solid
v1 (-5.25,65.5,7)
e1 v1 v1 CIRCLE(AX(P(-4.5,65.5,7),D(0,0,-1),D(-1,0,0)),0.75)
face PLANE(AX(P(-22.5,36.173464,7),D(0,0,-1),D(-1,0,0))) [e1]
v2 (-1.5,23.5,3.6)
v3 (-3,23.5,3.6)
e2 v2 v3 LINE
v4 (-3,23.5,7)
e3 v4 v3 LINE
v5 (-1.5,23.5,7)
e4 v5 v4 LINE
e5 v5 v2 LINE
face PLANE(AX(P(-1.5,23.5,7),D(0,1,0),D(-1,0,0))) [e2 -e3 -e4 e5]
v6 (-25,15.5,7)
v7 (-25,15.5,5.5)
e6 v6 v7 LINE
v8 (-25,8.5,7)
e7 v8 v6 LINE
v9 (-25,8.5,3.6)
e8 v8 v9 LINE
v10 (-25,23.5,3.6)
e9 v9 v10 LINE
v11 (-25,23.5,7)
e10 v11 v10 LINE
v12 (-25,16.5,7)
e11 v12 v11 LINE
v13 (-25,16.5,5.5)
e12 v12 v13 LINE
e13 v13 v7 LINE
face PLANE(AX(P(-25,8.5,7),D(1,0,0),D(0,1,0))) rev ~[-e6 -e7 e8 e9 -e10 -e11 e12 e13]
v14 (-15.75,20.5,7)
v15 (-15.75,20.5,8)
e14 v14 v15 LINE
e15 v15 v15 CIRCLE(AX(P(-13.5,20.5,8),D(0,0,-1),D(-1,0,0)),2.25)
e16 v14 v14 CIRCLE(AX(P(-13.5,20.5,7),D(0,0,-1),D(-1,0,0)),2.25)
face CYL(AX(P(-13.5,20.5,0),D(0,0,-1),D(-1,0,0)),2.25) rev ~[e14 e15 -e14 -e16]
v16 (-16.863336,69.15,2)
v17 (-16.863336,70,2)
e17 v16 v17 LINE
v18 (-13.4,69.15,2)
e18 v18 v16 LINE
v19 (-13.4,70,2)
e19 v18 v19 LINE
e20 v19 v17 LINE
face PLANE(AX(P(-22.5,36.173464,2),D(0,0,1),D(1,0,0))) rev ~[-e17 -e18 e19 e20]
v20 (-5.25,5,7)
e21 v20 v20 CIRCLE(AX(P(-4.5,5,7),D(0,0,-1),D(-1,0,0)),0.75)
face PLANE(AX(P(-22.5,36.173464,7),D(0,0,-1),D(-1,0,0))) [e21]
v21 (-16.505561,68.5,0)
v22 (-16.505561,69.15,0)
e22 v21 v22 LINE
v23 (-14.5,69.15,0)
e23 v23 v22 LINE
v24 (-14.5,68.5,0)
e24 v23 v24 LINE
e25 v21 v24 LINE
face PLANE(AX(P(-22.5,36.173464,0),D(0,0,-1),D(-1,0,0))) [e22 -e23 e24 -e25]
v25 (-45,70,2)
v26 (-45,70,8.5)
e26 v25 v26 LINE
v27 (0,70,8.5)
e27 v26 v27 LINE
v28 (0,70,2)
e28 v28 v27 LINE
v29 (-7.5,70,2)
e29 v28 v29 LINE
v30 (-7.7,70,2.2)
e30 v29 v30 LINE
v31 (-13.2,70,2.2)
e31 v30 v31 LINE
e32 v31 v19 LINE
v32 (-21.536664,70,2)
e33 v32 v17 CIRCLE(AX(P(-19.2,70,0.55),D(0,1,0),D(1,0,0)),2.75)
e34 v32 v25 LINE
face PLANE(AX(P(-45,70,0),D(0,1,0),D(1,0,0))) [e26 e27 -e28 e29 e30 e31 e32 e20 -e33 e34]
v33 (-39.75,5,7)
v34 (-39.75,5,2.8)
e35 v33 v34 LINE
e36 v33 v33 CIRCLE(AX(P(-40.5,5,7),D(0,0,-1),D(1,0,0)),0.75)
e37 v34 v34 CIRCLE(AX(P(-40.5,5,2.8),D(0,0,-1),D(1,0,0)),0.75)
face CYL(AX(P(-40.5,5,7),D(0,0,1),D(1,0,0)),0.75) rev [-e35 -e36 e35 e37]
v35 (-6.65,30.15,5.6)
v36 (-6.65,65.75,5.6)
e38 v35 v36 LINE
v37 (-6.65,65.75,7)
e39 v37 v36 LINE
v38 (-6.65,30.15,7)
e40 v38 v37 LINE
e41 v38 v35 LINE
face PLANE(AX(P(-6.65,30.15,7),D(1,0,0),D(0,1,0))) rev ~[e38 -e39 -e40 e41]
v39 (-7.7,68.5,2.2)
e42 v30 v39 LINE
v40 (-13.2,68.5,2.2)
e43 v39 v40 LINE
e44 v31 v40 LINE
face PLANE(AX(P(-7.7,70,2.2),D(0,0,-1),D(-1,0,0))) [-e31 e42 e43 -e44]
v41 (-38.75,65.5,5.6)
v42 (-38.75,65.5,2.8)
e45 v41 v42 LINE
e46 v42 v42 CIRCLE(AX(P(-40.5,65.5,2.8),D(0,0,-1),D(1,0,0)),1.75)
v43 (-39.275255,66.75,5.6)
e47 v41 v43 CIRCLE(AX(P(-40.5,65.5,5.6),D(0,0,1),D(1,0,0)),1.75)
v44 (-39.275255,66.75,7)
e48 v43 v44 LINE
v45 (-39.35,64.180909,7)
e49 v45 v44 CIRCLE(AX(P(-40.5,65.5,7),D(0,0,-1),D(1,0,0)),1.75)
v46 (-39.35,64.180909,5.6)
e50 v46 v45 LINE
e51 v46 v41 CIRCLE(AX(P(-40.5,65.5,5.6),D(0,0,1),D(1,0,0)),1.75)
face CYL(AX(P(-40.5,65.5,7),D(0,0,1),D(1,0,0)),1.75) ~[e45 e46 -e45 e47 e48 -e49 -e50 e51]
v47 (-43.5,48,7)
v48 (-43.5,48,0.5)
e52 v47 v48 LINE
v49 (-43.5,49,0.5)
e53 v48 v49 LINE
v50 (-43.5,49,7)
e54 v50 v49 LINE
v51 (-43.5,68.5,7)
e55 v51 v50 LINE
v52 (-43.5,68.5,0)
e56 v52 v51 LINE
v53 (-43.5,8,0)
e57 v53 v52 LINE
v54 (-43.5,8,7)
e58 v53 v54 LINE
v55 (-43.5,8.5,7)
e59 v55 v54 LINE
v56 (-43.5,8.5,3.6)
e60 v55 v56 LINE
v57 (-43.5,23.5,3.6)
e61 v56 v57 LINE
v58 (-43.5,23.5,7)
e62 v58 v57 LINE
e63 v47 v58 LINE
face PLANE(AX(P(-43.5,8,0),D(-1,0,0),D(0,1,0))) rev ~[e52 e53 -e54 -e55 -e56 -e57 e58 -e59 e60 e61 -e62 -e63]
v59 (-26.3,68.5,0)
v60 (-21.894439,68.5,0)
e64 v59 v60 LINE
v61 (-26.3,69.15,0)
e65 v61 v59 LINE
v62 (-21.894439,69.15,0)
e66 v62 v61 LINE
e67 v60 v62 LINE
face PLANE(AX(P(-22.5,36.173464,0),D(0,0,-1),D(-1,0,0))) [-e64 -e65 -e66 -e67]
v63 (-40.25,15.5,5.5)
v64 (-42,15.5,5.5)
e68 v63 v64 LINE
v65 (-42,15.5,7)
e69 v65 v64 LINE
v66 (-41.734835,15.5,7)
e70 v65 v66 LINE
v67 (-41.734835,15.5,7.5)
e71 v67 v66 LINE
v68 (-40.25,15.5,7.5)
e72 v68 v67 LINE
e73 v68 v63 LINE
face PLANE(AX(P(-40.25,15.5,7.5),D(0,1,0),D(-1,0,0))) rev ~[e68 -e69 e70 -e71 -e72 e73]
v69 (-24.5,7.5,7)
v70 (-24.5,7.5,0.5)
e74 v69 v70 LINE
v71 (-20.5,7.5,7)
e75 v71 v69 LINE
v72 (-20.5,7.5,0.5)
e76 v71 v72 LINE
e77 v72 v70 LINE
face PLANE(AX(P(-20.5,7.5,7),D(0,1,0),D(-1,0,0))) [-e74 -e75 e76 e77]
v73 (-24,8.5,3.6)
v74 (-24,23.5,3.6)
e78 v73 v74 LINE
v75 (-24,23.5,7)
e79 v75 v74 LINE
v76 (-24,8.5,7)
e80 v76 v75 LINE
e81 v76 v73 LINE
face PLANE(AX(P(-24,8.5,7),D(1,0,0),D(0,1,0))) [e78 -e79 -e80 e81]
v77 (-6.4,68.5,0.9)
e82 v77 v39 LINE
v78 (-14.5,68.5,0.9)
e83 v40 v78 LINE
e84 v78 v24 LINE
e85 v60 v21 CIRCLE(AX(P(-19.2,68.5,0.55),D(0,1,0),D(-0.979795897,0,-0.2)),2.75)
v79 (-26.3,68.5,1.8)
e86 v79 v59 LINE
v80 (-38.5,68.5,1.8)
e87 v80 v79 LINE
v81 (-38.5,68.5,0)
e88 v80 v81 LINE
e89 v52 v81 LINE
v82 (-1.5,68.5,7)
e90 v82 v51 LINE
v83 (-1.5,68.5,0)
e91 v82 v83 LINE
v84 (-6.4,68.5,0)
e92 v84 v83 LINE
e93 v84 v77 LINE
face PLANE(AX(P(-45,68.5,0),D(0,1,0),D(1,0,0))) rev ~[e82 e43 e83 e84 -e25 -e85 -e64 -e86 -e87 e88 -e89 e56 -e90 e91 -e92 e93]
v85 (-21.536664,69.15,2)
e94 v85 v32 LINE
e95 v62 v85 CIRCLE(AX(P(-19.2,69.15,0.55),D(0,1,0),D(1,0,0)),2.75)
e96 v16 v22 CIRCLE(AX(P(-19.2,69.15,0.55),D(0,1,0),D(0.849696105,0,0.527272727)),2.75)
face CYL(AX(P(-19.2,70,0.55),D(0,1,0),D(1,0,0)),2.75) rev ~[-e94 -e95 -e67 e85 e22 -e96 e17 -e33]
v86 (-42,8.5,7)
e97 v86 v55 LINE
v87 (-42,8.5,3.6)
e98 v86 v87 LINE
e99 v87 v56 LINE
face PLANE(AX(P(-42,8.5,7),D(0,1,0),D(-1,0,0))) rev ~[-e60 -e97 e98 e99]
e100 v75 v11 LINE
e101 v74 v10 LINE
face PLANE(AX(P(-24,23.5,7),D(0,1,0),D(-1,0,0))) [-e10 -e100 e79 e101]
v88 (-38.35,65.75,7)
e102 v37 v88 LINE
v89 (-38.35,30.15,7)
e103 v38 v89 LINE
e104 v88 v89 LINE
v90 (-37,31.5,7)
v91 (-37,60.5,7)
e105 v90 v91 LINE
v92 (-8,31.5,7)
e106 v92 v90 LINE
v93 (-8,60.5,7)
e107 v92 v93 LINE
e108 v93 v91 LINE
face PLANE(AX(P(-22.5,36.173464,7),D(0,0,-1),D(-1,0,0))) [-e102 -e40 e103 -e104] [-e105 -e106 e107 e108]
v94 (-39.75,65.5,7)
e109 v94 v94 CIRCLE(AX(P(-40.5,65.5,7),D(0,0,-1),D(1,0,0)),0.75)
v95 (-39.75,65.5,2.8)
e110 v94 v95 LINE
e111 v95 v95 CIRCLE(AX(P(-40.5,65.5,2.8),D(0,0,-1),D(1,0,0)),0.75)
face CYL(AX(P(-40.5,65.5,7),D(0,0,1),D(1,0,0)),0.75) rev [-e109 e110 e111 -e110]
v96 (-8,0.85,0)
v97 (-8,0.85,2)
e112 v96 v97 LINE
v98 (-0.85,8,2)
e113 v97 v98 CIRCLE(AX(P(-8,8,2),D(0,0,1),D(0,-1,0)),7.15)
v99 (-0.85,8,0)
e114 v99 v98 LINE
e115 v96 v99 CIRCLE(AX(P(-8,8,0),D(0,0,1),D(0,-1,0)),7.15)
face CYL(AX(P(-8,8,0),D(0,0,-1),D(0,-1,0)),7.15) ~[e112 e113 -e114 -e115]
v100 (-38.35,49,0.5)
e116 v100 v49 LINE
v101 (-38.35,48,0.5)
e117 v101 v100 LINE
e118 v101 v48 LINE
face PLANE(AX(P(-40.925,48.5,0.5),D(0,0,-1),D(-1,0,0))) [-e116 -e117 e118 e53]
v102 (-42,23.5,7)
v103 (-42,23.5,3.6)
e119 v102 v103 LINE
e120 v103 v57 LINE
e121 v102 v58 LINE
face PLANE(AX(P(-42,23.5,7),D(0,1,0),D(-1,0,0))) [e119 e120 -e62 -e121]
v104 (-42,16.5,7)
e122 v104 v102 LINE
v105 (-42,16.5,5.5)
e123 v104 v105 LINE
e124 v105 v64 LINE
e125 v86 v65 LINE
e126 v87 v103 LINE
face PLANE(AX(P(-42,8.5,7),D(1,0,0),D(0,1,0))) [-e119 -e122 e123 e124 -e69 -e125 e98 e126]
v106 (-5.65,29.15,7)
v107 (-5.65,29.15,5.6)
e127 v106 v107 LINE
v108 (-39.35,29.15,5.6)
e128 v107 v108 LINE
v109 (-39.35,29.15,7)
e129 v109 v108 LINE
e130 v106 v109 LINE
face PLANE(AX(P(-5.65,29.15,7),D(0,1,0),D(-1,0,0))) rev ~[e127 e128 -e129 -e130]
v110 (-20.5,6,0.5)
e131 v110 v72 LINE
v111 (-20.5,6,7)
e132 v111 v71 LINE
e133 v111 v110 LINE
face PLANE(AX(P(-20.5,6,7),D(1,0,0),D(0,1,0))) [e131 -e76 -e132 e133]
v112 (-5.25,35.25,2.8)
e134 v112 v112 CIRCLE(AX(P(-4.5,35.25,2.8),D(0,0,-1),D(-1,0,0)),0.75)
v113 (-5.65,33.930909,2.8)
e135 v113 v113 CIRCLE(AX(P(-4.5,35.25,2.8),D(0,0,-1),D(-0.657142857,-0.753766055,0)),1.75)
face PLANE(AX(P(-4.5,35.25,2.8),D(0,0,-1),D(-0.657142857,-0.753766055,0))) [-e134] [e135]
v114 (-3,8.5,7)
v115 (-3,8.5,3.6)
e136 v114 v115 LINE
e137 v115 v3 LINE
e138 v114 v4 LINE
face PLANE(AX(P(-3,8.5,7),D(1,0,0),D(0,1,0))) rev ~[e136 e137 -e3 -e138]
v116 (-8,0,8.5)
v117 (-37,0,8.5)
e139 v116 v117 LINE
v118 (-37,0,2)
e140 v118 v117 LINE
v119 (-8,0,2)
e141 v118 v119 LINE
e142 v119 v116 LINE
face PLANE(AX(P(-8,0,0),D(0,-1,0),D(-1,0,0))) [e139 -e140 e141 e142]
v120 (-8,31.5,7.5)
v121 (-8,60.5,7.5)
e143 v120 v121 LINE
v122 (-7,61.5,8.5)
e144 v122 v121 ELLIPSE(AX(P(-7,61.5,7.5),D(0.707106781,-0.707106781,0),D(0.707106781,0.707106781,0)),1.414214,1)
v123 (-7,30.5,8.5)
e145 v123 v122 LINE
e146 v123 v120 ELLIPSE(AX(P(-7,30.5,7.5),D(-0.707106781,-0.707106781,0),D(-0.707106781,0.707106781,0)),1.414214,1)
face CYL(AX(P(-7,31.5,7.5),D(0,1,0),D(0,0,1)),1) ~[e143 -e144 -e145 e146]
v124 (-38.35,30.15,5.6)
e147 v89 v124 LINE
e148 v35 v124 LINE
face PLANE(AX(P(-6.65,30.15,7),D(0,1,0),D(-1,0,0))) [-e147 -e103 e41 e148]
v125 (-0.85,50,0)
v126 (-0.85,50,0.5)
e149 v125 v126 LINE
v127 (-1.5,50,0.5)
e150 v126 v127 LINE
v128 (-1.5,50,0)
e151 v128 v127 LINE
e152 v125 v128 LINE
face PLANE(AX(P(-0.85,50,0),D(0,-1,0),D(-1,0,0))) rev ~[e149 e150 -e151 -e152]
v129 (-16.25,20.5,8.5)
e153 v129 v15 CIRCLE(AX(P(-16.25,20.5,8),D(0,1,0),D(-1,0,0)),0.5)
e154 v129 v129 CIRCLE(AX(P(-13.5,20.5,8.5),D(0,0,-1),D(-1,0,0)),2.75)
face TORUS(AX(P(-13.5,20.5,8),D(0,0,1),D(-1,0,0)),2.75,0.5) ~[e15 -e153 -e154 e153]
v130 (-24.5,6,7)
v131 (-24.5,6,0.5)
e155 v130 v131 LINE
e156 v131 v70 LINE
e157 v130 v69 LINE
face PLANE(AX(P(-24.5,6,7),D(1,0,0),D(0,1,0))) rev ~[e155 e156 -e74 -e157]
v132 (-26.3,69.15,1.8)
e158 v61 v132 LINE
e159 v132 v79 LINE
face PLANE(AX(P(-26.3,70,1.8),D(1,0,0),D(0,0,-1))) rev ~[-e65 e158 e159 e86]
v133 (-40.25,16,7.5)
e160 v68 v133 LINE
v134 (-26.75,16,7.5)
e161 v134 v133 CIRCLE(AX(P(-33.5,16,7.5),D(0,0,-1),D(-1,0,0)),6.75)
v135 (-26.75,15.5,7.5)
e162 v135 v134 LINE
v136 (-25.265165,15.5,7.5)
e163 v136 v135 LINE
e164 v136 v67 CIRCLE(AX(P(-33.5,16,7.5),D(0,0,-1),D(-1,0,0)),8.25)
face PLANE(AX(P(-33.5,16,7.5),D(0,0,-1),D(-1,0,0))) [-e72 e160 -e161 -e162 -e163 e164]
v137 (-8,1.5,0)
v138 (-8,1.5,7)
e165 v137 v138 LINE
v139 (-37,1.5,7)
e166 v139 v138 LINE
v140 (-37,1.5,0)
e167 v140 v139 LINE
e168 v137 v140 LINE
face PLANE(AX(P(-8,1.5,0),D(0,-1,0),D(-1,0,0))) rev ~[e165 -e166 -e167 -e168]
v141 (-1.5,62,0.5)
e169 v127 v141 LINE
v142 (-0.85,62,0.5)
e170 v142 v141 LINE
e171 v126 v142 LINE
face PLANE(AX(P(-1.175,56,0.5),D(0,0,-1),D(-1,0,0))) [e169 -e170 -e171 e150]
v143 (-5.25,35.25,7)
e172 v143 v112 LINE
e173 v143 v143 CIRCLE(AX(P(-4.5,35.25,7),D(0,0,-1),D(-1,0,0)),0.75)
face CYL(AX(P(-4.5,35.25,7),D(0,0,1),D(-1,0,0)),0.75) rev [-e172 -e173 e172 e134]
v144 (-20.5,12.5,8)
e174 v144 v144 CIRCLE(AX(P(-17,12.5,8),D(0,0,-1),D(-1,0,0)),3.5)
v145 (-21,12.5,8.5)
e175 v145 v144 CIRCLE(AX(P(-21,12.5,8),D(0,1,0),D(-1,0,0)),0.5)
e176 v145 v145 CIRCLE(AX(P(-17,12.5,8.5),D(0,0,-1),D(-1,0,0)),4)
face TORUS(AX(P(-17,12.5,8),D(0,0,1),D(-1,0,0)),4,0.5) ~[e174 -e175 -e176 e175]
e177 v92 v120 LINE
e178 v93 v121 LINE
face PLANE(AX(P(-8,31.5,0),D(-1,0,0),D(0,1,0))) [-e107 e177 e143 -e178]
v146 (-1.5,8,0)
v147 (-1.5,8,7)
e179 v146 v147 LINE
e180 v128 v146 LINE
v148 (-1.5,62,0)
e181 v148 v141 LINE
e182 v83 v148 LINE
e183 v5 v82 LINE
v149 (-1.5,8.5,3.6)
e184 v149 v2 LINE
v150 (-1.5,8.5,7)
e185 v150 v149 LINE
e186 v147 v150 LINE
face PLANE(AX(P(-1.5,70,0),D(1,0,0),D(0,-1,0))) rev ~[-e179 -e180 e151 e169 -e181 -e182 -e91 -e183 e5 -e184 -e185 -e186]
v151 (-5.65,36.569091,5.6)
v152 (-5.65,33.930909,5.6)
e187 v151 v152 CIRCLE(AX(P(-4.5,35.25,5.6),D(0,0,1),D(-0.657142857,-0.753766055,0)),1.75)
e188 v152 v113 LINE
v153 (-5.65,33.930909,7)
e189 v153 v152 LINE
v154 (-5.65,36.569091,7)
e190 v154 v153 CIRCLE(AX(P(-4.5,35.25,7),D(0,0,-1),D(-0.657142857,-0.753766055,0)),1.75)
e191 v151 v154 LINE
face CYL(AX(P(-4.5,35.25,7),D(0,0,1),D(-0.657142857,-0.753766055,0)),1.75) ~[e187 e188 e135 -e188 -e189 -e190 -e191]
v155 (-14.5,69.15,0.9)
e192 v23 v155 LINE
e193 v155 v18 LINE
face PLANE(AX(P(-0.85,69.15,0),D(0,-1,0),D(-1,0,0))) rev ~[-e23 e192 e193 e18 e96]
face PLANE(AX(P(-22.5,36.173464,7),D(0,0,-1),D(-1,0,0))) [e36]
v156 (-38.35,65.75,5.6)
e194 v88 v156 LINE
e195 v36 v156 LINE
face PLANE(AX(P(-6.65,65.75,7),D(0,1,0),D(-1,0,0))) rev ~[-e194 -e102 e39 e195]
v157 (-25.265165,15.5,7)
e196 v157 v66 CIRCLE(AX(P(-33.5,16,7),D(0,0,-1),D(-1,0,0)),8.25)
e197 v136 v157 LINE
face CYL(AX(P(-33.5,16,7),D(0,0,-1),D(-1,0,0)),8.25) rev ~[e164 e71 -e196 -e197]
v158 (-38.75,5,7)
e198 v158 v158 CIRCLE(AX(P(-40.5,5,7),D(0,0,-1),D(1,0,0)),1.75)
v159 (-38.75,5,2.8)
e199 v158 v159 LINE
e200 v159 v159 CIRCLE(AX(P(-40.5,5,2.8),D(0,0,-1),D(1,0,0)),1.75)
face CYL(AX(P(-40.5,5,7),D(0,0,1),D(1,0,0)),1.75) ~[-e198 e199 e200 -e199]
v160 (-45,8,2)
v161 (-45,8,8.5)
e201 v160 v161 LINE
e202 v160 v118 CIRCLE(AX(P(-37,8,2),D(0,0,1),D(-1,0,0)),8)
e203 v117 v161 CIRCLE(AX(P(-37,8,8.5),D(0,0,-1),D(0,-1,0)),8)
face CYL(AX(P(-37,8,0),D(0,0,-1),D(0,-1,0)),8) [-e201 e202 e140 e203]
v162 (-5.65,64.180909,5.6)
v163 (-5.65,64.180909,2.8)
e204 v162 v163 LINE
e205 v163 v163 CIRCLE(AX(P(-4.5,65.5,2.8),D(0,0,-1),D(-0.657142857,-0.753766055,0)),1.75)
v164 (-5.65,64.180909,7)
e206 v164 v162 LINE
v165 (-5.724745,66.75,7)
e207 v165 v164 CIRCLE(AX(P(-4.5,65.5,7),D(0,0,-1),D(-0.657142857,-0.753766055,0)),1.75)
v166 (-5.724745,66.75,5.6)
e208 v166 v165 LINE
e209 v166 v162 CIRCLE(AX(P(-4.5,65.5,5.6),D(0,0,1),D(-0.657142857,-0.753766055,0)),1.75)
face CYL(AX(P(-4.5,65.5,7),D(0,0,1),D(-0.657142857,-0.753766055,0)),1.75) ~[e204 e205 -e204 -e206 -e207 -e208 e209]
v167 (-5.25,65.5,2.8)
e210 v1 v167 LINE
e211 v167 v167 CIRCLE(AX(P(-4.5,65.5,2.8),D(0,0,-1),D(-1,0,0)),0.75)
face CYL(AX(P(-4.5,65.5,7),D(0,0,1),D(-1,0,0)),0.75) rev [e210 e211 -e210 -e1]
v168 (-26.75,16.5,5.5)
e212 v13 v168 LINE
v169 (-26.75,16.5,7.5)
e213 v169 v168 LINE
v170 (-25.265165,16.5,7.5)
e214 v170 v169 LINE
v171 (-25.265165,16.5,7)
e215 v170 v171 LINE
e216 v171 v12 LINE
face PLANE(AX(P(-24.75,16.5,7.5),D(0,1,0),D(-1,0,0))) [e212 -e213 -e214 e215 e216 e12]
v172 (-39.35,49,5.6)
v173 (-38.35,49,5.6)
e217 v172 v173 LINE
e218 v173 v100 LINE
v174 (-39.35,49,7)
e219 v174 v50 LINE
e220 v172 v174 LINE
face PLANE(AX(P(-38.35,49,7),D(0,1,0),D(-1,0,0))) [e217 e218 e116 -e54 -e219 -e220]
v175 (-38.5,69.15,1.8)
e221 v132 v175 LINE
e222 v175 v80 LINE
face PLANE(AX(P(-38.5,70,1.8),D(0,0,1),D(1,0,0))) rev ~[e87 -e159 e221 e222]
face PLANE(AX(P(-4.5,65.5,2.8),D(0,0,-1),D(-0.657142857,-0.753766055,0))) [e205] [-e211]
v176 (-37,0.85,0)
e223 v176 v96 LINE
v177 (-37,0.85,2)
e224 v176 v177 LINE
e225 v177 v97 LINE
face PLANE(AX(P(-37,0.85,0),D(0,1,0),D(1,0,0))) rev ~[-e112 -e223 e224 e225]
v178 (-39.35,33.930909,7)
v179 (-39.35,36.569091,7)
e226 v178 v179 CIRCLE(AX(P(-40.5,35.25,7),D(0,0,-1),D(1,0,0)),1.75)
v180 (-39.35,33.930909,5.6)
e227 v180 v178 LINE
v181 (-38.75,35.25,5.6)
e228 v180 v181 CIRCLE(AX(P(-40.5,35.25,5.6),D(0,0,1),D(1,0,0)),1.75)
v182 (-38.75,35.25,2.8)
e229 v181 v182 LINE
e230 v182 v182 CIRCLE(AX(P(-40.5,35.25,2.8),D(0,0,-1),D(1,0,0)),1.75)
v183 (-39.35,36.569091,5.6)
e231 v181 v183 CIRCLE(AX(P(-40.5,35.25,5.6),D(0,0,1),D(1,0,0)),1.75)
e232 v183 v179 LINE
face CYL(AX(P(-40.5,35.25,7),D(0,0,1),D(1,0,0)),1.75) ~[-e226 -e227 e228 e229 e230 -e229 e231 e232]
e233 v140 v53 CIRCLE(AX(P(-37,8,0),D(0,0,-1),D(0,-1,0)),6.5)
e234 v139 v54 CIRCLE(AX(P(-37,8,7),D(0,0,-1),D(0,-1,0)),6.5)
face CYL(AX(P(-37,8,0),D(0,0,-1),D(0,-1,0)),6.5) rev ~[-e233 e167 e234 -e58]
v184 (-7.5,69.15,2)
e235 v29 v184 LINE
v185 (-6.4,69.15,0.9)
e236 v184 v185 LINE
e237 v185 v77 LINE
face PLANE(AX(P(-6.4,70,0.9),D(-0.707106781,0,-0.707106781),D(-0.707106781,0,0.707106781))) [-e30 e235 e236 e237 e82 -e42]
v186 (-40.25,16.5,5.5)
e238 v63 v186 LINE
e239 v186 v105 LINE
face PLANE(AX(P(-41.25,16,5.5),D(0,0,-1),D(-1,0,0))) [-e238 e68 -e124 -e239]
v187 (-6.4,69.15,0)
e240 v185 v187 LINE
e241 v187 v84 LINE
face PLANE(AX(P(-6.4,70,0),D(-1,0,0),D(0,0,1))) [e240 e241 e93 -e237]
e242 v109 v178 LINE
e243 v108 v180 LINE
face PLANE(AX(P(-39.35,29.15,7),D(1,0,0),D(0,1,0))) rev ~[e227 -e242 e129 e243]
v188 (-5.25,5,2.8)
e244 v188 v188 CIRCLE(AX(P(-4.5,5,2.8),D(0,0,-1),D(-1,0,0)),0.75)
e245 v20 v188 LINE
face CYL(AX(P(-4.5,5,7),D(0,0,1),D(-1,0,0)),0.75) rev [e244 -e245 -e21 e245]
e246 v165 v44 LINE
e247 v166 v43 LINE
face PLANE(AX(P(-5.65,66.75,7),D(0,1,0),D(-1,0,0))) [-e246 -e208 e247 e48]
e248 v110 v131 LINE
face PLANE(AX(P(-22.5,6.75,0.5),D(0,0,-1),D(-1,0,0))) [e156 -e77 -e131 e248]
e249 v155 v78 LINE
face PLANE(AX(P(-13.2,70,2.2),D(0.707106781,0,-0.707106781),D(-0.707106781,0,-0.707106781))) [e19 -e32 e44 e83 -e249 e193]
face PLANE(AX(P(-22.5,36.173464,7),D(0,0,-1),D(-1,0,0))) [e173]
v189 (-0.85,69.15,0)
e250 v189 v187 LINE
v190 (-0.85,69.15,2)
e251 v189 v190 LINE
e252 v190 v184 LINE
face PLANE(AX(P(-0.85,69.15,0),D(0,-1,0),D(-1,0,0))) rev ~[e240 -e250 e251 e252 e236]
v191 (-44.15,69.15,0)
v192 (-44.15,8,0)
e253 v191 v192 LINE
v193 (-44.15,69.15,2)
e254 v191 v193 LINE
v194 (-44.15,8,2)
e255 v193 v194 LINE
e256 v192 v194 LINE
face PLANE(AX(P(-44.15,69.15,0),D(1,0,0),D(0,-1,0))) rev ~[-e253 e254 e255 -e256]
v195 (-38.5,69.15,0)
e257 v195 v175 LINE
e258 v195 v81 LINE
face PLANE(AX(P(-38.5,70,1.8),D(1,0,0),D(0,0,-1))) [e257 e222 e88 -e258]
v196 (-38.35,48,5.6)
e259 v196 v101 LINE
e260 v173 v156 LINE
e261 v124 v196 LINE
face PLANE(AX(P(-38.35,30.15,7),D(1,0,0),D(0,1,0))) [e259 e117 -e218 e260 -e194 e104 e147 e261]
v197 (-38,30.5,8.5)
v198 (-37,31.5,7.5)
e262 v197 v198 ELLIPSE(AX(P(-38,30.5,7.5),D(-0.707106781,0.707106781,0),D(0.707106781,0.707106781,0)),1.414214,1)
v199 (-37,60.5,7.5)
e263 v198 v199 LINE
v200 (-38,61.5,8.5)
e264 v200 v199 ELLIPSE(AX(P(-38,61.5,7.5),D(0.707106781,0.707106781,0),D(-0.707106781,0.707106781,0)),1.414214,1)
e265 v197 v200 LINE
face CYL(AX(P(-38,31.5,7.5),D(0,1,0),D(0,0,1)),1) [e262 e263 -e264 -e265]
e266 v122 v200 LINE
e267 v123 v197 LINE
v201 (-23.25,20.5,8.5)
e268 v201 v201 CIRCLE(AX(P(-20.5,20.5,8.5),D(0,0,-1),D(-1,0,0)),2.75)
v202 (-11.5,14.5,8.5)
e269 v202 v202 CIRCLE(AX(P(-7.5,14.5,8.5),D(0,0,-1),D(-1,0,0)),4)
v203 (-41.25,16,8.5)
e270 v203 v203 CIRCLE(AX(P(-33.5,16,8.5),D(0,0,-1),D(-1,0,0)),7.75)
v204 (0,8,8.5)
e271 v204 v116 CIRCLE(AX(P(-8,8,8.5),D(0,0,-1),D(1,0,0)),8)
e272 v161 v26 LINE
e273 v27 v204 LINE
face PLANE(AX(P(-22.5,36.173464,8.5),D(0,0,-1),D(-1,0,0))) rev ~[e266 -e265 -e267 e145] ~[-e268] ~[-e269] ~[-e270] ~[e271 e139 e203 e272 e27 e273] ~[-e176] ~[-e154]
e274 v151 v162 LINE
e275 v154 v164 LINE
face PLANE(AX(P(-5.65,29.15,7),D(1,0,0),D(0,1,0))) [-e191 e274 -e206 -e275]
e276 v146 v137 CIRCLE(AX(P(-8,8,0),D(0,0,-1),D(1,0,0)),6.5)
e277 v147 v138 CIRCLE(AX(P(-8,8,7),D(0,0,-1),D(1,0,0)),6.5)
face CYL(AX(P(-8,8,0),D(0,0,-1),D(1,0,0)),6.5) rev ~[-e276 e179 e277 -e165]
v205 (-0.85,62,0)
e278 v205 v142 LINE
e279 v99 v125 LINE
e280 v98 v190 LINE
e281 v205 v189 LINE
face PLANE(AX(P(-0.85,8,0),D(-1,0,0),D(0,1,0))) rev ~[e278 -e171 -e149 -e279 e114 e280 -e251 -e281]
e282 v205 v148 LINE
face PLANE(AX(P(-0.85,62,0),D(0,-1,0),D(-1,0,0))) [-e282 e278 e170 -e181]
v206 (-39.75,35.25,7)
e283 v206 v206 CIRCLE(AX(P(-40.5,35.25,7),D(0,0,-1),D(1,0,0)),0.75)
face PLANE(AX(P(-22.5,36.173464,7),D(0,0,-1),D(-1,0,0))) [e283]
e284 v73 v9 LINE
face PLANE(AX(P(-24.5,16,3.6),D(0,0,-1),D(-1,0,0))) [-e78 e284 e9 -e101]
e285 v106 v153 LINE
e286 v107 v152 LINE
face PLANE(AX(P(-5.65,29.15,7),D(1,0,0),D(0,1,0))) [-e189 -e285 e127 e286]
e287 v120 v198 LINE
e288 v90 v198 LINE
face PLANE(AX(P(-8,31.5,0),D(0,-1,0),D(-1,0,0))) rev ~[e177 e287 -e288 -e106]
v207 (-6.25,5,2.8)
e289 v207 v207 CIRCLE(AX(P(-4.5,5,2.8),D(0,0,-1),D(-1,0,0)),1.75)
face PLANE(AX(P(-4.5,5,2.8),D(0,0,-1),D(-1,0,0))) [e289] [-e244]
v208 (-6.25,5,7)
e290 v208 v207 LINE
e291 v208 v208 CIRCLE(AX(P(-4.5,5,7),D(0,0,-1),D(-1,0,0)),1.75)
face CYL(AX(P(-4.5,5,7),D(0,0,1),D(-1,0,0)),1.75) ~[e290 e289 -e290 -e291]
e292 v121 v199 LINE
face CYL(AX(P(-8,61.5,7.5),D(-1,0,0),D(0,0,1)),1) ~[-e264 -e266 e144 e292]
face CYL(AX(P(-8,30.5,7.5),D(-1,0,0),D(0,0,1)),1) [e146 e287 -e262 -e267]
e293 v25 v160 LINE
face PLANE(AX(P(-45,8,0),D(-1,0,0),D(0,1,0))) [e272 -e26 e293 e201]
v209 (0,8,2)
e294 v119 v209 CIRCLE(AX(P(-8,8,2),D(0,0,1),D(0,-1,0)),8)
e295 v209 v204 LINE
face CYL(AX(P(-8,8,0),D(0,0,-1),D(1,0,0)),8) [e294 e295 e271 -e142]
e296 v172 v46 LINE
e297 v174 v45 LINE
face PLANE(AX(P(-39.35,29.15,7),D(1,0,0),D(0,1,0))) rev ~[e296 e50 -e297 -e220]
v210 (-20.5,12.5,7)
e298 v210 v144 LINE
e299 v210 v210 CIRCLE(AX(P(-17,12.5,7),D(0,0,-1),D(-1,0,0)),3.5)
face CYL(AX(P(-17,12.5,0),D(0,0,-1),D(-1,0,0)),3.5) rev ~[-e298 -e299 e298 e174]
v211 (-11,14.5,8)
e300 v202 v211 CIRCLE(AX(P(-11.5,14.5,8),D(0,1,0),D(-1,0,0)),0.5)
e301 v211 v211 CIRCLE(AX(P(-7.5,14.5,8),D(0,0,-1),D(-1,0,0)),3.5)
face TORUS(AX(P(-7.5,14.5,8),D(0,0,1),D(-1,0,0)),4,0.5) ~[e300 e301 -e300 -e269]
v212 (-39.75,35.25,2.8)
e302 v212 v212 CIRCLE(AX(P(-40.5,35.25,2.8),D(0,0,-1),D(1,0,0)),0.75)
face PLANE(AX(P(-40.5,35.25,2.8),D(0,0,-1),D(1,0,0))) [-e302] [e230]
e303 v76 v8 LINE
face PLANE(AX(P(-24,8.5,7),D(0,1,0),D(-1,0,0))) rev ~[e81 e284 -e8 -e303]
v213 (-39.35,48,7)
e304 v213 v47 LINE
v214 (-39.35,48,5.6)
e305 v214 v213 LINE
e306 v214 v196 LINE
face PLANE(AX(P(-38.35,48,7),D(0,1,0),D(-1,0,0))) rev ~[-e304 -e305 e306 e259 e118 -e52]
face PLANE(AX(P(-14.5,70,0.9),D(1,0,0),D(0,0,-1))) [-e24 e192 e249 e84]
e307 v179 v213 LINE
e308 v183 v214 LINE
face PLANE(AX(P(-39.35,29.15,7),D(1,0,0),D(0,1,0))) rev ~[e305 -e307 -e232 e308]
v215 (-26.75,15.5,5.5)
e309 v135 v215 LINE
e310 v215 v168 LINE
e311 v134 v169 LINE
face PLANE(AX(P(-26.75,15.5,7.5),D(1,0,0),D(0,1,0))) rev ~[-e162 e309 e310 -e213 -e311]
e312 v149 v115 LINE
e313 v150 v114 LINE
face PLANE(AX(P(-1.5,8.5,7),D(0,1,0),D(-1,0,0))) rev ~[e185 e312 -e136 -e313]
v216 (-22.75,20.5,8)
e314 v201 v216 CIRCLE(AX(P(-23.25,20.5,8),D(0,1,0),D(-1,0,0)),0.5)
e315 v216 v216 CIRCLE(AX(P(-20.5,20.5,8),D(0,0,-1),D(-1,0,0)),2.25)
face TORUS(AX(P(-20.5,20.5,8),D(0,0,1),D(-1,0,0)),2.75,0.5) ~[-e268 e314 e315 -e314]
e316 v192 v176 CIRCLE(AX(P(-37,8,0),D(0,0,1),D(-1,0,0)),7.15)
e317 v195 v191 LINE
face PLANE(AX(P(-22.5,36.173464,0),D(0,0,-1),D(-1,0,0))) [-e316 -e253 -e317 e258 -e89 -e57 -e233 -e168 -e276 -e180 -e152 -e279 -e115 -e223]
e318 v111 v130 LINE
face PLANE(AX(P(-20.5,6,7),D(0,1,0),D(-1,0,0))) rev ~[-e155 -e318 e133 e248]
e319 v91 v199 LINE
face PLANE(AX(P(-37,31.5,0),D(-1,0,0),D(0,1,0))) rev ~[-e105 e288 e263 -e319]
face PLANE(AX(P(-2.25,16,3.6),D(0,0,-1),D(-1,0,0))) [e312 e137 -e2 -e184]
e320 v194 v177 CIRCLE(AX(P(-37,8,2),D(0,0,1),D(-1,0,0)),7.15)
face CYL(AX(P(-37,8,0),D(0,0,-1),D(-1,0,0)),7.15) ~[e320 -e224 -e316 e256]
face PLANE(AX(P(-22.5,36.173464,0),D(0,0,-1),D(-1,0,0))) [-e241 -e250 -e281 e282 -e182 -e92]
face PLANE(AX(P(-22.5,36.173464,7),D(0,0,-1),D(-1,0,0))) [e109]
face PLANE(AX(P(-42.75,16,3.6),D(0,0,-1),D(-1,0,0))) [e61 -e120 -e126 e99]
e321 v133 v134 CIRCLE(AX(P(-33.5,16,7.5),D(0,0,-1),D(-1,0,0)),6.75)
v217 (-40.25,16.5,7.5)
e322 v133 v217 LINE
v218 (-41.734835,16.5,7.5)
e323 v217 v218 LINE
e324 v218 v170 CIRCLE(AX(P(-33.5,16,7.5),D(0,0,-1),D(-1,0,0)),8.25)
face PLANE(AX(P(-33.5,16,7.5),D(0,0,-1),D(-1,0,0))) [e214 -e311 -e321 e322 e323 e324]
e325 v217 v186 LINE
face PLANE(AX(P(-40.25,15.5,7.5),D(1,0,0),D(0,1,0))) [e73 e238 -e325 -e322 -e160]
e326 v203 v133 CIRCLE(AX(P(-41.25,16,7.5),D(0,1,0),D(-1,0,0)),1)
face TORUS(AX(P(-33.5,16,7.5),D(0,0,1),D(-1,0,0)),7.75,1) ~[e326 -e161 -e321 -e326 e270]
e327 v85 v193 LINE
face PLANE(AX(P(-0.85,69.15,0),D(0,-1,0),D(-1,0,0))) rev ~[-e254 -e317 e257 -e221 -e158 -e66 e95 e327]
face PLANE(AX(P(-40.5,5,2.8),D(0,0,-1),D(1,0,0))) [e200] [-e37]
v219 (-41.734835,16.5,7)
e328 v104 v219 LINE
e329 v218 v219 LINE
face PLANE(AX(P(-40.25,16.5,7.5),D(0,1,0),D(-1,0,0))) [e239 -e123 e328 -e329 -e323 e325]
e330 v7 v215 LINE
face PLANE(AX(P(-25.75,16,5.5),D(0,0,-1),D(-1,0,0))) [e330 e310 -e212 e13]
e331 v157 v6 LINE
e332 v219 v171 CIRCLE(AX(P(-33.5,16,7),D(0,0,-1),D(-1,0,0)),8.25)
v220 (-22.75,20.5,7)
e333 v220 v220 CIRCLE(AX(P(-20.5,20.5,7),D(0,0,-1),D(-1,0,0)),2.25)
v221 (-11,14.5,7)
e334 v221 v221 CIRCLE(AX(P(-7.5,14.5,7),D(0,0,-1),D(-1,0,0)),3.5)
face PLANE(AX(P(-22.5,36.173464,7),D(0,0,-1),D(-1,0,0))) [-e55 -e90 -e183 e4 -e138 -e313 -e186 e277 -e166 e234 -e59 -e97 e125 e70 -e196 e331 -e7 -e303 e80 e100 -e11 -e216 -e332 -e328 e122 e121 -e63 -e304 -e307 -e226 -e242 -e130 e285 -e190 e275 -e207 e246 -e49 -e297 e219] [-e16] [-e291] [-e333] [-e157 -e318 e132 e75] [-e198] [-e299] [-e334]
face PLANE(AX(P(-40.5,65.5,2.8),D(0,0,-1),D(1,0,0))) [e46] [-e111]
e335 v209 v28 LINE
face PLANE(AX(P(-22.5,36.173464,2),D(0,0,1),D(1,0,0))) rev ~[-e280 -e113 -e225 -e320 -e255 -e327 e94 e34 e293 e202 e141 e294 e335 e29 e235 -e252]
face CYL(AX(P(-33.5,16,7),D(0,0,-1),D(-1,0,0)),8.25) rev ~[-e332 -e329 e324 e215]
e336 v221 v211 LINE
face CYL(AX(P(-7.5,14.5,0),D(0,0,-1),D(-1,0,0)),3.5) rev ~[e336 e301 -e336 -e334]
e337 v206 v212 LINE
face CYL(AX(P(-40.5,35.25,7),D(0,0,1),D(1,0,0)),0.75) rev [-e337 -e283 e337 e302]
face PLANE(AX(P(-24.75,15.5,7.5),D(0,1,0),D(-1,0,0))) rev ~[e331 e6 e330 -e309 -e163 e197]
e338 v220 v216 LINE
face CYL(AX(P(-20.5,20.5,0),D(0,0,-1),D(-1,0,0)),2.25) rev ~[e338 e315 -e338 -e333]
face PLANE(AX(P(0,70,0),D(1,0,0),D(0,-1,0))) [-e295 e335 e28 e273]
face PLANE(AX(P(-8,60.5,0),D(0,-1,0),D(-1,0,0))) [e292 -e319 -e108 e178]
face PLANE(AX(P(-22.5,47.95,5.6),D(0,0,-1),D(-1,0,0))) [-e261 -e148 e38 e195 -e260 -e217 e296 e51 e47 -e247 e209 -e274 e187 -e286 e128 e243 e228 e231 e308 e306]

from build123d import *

# Parameters (mm, degrees)
EXTRUDE_1_DEPTH     = 8.5
SHELL_2_T           = -1.5
SKETCH_4_R          = 6.75
SKETCH_4_R_2        = 3.5
SKETCH_4_R_3        = 2.25
SKETCH_4_W          = 29
SKETCH_4_H          = 29
CUT_EXTRUDE_3_DEPTH = 84.649566646
FILLET_1_R          = 1
FILLET_2_R          = 1
FILLET_3_R          = 0.5
SKETCH_5_W          = 33.7
SKETCH_5_H          = 37.6
SKETCH_5_W_2        = 31.7
SKETCH_5_H_2        = 35.6
EXTRUDE_2_DEPTH     = 1.4
SKETCH_6_R          = 1.75
SKETCH_6_R_2        = 0.75
EXTRUDE_3_DEPTH     = 4.2
CUT_EXTRUDE_4_DEPTH = 2
SKETCH_8_W          = 0.65
SKETCH_8_H          = 12
CUT_EXTRUDE_5_DEPTH = 0.5
SKETCH_9_W          = 5.15
SKETCH_9_H          = 1
SKETCH_9_W_2        = 4
SKETCH_9_H_2        = 1.5
EXTRUDE_4_DEPTH     = 6.5
SKETCH_10_R         = 2.75
SKETCH_10_W         = 12.2
SKETCH_10_H         = 1.8
CUT_EXTRUDE_6_DEPTH = 1.5
SKETCH1_R           = 8.25
CUT_EXTRUDE1_DEPTH  = 0.5
SKETCH2_W           = 2
SKETCH2_H           = 1
BOSS_EXTRUDE1_DEPTH = 2
SKETCH_12_W         = 1
SKETCH_12_H         = 15
SKETCH_12_W_2       = 1.5
EXTRUDE_5_DEPTH     = 3.4


with BuildPart() as part:
    # 草图1 → 凸台-拉伸1 (new body)
    with BuildSketch(Plane.XY):
        with BuildLine():
            Line((-45, 70), (0, 70))
            Line((0, 70), (0, 8))
            ThreePointArc((0, 8), (-2.343145751, 2.343145751), (-8, 0))
            Line((-8, 0), (-37, 0))
            ThreePointArc((-37, 0), (-42.656854249, 2.343145751), (-45, 8))
            Line((-45, 8), (-45, 70))
        make_face()
    extrude(amount=EXTRUDE_1_DEPTH)

    # 抽壳2
    shell_2_openings = [part.faces().sort_by_distance(p)[0] for p in [
        (-22.5, 35.292176643, 0),
    ]]
    offset(amount=SHELL_2_T, openings=shell_2_openings, kind=Kind.INTERSECTION)

    # 草图4 → 切除-拉伸3 (cut, through all)
    with BuildSketch(Plane(origin=(0, 0, 0), x_dir=(-1, 0, 0), z_dir=(0, 0, -1))):
        with Locations((33.5, 16)):
            Circle(SKETCH_4_R)
        with Locations((7.5, 14.5)):
            Circle(SKETCH_4_R_2)
        with Locations((17, 12.5)):
            Circle(SKETCH_4_R_2)
        with Locations((13.5, 20.5)):
            Circle(SKETCH_4_R_3)
        with Locations((20.5, 20.5)):
            Circle(SKETCH_4_R_3)
        with Locations((22.5, 46)):
            Rectangle(SKETCH_4_W, SKETCH_4_H)
    extrude(amount=-CUT_EXTRUDE_3_DEPTH, mode=Mode.SUBTRACT)

    # 圆角1
    fillet_1_edges = [part.edges().sort_by_distance(p)[0] for p in [
        (-8, 46, 8.5),
        (-22.5, 60.5, 8.5),
        (-37, 46, 8.5),
        (-22.5, 31.5, 8.5),
    ]]
    fillet(fillet_1_edges, radius=FILLET_1_R)

    # 圆角2
    fillet_2_edges = [part.edges().sort_by_distance(p)[0] for p in [
        (-26.75, 16, 8.5),
    ]]
    fillet(fillet_2_edges, radius=FILLET_2_R)

    # 圆角3
    fillet_3_edges = [part.edges().sort_by_distance(p)[0] for p in [
        (-18.25, 20.5, 8.5),
        (-4, 14.5, 8.5),
        (-13.5, 12.5, 8.5),
        (-11.25, 20.5, 8.5),
    ]]
    fillet(fillet_3_edges, radius=FILLET_3_R)

    # 草图5 → 凸台-拉伸2 (add)
    with BuildSketch(Plane(origin=(0, 0, 7), x_dir=(-1, 0, 0), z_dir=(0, 0, -1))):
        with Locations((22.5, 47.95)):
            Rectangle(SKETCH_5_W, SKETCH_5_H)
        with Locations((22.5, 47.95)):
            Rectangle(SKETCH_5_W_2, SKETCH_5_H_2, mode=Mode.SUBTRACT)
    extrude(amount=EXTRUDE_2_DEPTH)

    # 草图6 → 凸台-拉伸3 (add)
    # profile 1 of 6: a face of its own
    with BuildSketch(Plane(origin=(0, 0, 7), x_dir=(-1, 0, 0), z_dir=(0, 0, -1))):
        with Locations(Location((4.5, 65.5, 0), (0, 0, 311.08233314))):
            Circle(SKETCH_6_R)
        with Locations((4.5, 65.5)):
            Circle(SKETCH_6_R_2, mode=Mode.SUBTRACT)
    # profile 2 of 6: a face of its own
    with BuildSketch(Plane(origin=(0, 0, 7), x_dir=(-1, 0, 0), z_dir=(0, 0, -1))):
        with Locations(Location((4.5, 35.25, 0), (0, 0, 311.08233314))):
            Circle(SKETCH_6_R)
        with Locations((4.5, 35.25)):
            Circle(SKETCH_6_R_2, mode=Mode.SUBTRACT)
    # profile 3 of 6: a face of its own
    with BuildSketch(Plane(origin=(0, 0, 7), x_dir=(-1, 0, 0), z_dir=(0, 0, -1))):
        with Locations((4.5, 5)):
            Circle(SKETCH_6_R)
        with Locations((4.5, 5)):
            Circle(SKETCH_6_R_2, mode=Mode.SUBTRACT)
    # profile 4 of 6: a face of its own
    with BuildSketch(Plane(origin=(0, 0, 7), x_dir=(-1, 0, 0), z_dir=(0, 0, -1))):
        with Locations(Location((40.5, 5, 0), (0, 0, 180))):
            Circle(SKETCH_6_R)
        with Locations(Location((40.5, 5, 0), (0, 0, 180))):
            Circle(SKETCH_6_R_2, mode=Mode.SUBTRACT)
    # profile 5 of 6: a face of its own
    with BuildSketch(Plane(origin=(0, 0, 7), x_dir=(-1, 0, 0), z_dir=(0, 0, -1))):
        with Locations(Location((40.5, 35.25, 0), (0, 0, 180))):
            Circle(SKETCH_6_R)
        with Locations(Location((40.5, 35.25, 0), (0, 0, 180))):
            Circle(SKETCH_6_R_2, mode=Mode.SUBTRACT)
    # profile 6 of 6: a face of its own
    with BuildSketch(Plane(origin=(0, 0, 7), x_dir=(-1, 0, 0), z_dir=(0, 0, -1))):
        with Locations(Location((40.5, 65.5, 0), (0, 0, 180))):
            Circle(SKETCH_6_R)
        with Locations(Location((40.5, 65.5, 0), (0, 0, 180))):
            Circle(SKETCH_6_R_2, mode=Mode.SUBTRACT)
    extrude(amount=EXTRUDE_3_DEPTH)

    # 草图7 → 切除-拉伸4 (cut)
    with BuildSketch(Plane(origin=(0, 0, 0), x_dir=(-1, 0, 0), z_dir=(0, 0, -1))):
        with BuildLine():
            Line((0, 70), (45, 70))
            Line((45, 70), (45, 8))
            ThreePointArc((45, 8), (42.656854249, 2.343145751), (37, 0))
            Line((37, 0), (8, 0))
            ThreePointArc((8, 0), (2.343145751, 2.343145751), (0, 8))
            Line((0, 8), (0, 70))
        make_face()
        with BuildLine():
            Line((0.85, 69.15), (44.15, 69.15))
            Line((44.15, 69.15), (44.15, 8))
            ThreePointArc((44.15, 8), (42.055813485, 2.944186515), (37, 0.85))
            Line((37, 0.85), (8, 0.85))
            ThreePointArc((8, 0.85), (2.944186515, 2.944186515), (0.85, 8))
            Line((0.85, 8), (0.85, 69.15))
        make_face(mode=Mode.SUBTRACT)
    extrude(amount=-CUT_EXTRUDE_4_DEPTH, mode=Mode.SUBTRACT)

    # 草图8 → 切除-拉伸5 (cut)
    with BuildSketch(Plane(origin=(0, 0, 0), x_dir=(-1, 0, 0), z_dir=(0, 0, -1))):
        with Locations((1.175, 56)):
            Rectangle(SKETCH_8_W, SKETCH_8_H)
    extrude(amount=-CUT_EXTRUDE_5_DEPTH, mode=Mode.SUBTRACT)

    # 草图9 → 凸台-拉伸4 (add)
    with BuildSketch(Plane(origin=(0, 0, 7), x_dir=(-1, 0, 0), z_dir=(0, 0, -1))):
        with Locations((40.925, 48.5)):
            Rectangle(SKETCH_9_W, SKETCH_9_H)
        with Locations((22.5, 6.75)):
            Rectangle(SKETCH_9_W_2, SKETCH_9_H_2)
    extrude(amount=EXTRUDE_4_DEPTH)

    # 草图10 → 切除-拉伸6 (cut)
    with BuildSketch(Plane(origin=(0, 70, 0), x_dir=(1, 0, 0), z_dir=(0, 1, 0))):
        with Locations((-19.2, -0.55)):
            Circle(SKETCH_10_R)
        with Locations((-32.4, -0.9)):
            Rectangle(SKETCH_10_W, SKETCH_10_H)
        Polygon((-14.5, 0), (-6.4, 0), (-6.4, -0.9), (-7.7, -2.2), (-13.2, -2.2), (-14.5, -0.9), align=None)
    extrude(amount=-CUT_EXTRUDE_6_DEPTH, mode=Mode.SUBTRACT)

    # Sketch1 → Cut-Extrude1 (cut)
    with BuildSketch(Plane(origin=(0, 0, 7), x_dir=(-1, 0, 0), z_dir=(0, 0, -1))):
        with Locations((33.5, 16)):
            Circle(SKETCH1_R)
    extrude(amount=-CUT_EXTRUDE1_DEPTH, mode=Mode.SUBTRACT)

    # Sketch2 → Boss-Extrude1 (add)
    with BuildSketch(Plane(origin=(0, 0, 7.5), x_dir=(-1, 0, 0), z_dir=(0, 0, -1))):
        with Locations((25.75, 16)):
            Rectangle(SKETCH2_W, SKETCH2_H)
        with Locations((41.25, 16)):
            Rectangle(SKETCH2_W, SKETCH2_H)
    extrude(amount=BOSS_EXTRUDE1_DEPTH)

    # 草图12 → 凸台-拉伸5 (add)
    with BuildSketch(Plane(origin=(0, 0, 7), x_dir=(-1, 0, 0), z_dir=(0, 0, -1))):
        with Locations((24.5, 16)):
            Rectangle(SKETCH_12_W, SKETCH_12_H)
        with Locations((42.75, 16)):
            Rectangle(SKETCH_12_W_2, SKETCH_12_H)
        with Locations((2.25, 16)):
            Rectangle(SKETCH_12_W_2, SKETCH_12_H)
    extrude(amount=EXTRUDE_5_DEPTH)


solid = part.part
